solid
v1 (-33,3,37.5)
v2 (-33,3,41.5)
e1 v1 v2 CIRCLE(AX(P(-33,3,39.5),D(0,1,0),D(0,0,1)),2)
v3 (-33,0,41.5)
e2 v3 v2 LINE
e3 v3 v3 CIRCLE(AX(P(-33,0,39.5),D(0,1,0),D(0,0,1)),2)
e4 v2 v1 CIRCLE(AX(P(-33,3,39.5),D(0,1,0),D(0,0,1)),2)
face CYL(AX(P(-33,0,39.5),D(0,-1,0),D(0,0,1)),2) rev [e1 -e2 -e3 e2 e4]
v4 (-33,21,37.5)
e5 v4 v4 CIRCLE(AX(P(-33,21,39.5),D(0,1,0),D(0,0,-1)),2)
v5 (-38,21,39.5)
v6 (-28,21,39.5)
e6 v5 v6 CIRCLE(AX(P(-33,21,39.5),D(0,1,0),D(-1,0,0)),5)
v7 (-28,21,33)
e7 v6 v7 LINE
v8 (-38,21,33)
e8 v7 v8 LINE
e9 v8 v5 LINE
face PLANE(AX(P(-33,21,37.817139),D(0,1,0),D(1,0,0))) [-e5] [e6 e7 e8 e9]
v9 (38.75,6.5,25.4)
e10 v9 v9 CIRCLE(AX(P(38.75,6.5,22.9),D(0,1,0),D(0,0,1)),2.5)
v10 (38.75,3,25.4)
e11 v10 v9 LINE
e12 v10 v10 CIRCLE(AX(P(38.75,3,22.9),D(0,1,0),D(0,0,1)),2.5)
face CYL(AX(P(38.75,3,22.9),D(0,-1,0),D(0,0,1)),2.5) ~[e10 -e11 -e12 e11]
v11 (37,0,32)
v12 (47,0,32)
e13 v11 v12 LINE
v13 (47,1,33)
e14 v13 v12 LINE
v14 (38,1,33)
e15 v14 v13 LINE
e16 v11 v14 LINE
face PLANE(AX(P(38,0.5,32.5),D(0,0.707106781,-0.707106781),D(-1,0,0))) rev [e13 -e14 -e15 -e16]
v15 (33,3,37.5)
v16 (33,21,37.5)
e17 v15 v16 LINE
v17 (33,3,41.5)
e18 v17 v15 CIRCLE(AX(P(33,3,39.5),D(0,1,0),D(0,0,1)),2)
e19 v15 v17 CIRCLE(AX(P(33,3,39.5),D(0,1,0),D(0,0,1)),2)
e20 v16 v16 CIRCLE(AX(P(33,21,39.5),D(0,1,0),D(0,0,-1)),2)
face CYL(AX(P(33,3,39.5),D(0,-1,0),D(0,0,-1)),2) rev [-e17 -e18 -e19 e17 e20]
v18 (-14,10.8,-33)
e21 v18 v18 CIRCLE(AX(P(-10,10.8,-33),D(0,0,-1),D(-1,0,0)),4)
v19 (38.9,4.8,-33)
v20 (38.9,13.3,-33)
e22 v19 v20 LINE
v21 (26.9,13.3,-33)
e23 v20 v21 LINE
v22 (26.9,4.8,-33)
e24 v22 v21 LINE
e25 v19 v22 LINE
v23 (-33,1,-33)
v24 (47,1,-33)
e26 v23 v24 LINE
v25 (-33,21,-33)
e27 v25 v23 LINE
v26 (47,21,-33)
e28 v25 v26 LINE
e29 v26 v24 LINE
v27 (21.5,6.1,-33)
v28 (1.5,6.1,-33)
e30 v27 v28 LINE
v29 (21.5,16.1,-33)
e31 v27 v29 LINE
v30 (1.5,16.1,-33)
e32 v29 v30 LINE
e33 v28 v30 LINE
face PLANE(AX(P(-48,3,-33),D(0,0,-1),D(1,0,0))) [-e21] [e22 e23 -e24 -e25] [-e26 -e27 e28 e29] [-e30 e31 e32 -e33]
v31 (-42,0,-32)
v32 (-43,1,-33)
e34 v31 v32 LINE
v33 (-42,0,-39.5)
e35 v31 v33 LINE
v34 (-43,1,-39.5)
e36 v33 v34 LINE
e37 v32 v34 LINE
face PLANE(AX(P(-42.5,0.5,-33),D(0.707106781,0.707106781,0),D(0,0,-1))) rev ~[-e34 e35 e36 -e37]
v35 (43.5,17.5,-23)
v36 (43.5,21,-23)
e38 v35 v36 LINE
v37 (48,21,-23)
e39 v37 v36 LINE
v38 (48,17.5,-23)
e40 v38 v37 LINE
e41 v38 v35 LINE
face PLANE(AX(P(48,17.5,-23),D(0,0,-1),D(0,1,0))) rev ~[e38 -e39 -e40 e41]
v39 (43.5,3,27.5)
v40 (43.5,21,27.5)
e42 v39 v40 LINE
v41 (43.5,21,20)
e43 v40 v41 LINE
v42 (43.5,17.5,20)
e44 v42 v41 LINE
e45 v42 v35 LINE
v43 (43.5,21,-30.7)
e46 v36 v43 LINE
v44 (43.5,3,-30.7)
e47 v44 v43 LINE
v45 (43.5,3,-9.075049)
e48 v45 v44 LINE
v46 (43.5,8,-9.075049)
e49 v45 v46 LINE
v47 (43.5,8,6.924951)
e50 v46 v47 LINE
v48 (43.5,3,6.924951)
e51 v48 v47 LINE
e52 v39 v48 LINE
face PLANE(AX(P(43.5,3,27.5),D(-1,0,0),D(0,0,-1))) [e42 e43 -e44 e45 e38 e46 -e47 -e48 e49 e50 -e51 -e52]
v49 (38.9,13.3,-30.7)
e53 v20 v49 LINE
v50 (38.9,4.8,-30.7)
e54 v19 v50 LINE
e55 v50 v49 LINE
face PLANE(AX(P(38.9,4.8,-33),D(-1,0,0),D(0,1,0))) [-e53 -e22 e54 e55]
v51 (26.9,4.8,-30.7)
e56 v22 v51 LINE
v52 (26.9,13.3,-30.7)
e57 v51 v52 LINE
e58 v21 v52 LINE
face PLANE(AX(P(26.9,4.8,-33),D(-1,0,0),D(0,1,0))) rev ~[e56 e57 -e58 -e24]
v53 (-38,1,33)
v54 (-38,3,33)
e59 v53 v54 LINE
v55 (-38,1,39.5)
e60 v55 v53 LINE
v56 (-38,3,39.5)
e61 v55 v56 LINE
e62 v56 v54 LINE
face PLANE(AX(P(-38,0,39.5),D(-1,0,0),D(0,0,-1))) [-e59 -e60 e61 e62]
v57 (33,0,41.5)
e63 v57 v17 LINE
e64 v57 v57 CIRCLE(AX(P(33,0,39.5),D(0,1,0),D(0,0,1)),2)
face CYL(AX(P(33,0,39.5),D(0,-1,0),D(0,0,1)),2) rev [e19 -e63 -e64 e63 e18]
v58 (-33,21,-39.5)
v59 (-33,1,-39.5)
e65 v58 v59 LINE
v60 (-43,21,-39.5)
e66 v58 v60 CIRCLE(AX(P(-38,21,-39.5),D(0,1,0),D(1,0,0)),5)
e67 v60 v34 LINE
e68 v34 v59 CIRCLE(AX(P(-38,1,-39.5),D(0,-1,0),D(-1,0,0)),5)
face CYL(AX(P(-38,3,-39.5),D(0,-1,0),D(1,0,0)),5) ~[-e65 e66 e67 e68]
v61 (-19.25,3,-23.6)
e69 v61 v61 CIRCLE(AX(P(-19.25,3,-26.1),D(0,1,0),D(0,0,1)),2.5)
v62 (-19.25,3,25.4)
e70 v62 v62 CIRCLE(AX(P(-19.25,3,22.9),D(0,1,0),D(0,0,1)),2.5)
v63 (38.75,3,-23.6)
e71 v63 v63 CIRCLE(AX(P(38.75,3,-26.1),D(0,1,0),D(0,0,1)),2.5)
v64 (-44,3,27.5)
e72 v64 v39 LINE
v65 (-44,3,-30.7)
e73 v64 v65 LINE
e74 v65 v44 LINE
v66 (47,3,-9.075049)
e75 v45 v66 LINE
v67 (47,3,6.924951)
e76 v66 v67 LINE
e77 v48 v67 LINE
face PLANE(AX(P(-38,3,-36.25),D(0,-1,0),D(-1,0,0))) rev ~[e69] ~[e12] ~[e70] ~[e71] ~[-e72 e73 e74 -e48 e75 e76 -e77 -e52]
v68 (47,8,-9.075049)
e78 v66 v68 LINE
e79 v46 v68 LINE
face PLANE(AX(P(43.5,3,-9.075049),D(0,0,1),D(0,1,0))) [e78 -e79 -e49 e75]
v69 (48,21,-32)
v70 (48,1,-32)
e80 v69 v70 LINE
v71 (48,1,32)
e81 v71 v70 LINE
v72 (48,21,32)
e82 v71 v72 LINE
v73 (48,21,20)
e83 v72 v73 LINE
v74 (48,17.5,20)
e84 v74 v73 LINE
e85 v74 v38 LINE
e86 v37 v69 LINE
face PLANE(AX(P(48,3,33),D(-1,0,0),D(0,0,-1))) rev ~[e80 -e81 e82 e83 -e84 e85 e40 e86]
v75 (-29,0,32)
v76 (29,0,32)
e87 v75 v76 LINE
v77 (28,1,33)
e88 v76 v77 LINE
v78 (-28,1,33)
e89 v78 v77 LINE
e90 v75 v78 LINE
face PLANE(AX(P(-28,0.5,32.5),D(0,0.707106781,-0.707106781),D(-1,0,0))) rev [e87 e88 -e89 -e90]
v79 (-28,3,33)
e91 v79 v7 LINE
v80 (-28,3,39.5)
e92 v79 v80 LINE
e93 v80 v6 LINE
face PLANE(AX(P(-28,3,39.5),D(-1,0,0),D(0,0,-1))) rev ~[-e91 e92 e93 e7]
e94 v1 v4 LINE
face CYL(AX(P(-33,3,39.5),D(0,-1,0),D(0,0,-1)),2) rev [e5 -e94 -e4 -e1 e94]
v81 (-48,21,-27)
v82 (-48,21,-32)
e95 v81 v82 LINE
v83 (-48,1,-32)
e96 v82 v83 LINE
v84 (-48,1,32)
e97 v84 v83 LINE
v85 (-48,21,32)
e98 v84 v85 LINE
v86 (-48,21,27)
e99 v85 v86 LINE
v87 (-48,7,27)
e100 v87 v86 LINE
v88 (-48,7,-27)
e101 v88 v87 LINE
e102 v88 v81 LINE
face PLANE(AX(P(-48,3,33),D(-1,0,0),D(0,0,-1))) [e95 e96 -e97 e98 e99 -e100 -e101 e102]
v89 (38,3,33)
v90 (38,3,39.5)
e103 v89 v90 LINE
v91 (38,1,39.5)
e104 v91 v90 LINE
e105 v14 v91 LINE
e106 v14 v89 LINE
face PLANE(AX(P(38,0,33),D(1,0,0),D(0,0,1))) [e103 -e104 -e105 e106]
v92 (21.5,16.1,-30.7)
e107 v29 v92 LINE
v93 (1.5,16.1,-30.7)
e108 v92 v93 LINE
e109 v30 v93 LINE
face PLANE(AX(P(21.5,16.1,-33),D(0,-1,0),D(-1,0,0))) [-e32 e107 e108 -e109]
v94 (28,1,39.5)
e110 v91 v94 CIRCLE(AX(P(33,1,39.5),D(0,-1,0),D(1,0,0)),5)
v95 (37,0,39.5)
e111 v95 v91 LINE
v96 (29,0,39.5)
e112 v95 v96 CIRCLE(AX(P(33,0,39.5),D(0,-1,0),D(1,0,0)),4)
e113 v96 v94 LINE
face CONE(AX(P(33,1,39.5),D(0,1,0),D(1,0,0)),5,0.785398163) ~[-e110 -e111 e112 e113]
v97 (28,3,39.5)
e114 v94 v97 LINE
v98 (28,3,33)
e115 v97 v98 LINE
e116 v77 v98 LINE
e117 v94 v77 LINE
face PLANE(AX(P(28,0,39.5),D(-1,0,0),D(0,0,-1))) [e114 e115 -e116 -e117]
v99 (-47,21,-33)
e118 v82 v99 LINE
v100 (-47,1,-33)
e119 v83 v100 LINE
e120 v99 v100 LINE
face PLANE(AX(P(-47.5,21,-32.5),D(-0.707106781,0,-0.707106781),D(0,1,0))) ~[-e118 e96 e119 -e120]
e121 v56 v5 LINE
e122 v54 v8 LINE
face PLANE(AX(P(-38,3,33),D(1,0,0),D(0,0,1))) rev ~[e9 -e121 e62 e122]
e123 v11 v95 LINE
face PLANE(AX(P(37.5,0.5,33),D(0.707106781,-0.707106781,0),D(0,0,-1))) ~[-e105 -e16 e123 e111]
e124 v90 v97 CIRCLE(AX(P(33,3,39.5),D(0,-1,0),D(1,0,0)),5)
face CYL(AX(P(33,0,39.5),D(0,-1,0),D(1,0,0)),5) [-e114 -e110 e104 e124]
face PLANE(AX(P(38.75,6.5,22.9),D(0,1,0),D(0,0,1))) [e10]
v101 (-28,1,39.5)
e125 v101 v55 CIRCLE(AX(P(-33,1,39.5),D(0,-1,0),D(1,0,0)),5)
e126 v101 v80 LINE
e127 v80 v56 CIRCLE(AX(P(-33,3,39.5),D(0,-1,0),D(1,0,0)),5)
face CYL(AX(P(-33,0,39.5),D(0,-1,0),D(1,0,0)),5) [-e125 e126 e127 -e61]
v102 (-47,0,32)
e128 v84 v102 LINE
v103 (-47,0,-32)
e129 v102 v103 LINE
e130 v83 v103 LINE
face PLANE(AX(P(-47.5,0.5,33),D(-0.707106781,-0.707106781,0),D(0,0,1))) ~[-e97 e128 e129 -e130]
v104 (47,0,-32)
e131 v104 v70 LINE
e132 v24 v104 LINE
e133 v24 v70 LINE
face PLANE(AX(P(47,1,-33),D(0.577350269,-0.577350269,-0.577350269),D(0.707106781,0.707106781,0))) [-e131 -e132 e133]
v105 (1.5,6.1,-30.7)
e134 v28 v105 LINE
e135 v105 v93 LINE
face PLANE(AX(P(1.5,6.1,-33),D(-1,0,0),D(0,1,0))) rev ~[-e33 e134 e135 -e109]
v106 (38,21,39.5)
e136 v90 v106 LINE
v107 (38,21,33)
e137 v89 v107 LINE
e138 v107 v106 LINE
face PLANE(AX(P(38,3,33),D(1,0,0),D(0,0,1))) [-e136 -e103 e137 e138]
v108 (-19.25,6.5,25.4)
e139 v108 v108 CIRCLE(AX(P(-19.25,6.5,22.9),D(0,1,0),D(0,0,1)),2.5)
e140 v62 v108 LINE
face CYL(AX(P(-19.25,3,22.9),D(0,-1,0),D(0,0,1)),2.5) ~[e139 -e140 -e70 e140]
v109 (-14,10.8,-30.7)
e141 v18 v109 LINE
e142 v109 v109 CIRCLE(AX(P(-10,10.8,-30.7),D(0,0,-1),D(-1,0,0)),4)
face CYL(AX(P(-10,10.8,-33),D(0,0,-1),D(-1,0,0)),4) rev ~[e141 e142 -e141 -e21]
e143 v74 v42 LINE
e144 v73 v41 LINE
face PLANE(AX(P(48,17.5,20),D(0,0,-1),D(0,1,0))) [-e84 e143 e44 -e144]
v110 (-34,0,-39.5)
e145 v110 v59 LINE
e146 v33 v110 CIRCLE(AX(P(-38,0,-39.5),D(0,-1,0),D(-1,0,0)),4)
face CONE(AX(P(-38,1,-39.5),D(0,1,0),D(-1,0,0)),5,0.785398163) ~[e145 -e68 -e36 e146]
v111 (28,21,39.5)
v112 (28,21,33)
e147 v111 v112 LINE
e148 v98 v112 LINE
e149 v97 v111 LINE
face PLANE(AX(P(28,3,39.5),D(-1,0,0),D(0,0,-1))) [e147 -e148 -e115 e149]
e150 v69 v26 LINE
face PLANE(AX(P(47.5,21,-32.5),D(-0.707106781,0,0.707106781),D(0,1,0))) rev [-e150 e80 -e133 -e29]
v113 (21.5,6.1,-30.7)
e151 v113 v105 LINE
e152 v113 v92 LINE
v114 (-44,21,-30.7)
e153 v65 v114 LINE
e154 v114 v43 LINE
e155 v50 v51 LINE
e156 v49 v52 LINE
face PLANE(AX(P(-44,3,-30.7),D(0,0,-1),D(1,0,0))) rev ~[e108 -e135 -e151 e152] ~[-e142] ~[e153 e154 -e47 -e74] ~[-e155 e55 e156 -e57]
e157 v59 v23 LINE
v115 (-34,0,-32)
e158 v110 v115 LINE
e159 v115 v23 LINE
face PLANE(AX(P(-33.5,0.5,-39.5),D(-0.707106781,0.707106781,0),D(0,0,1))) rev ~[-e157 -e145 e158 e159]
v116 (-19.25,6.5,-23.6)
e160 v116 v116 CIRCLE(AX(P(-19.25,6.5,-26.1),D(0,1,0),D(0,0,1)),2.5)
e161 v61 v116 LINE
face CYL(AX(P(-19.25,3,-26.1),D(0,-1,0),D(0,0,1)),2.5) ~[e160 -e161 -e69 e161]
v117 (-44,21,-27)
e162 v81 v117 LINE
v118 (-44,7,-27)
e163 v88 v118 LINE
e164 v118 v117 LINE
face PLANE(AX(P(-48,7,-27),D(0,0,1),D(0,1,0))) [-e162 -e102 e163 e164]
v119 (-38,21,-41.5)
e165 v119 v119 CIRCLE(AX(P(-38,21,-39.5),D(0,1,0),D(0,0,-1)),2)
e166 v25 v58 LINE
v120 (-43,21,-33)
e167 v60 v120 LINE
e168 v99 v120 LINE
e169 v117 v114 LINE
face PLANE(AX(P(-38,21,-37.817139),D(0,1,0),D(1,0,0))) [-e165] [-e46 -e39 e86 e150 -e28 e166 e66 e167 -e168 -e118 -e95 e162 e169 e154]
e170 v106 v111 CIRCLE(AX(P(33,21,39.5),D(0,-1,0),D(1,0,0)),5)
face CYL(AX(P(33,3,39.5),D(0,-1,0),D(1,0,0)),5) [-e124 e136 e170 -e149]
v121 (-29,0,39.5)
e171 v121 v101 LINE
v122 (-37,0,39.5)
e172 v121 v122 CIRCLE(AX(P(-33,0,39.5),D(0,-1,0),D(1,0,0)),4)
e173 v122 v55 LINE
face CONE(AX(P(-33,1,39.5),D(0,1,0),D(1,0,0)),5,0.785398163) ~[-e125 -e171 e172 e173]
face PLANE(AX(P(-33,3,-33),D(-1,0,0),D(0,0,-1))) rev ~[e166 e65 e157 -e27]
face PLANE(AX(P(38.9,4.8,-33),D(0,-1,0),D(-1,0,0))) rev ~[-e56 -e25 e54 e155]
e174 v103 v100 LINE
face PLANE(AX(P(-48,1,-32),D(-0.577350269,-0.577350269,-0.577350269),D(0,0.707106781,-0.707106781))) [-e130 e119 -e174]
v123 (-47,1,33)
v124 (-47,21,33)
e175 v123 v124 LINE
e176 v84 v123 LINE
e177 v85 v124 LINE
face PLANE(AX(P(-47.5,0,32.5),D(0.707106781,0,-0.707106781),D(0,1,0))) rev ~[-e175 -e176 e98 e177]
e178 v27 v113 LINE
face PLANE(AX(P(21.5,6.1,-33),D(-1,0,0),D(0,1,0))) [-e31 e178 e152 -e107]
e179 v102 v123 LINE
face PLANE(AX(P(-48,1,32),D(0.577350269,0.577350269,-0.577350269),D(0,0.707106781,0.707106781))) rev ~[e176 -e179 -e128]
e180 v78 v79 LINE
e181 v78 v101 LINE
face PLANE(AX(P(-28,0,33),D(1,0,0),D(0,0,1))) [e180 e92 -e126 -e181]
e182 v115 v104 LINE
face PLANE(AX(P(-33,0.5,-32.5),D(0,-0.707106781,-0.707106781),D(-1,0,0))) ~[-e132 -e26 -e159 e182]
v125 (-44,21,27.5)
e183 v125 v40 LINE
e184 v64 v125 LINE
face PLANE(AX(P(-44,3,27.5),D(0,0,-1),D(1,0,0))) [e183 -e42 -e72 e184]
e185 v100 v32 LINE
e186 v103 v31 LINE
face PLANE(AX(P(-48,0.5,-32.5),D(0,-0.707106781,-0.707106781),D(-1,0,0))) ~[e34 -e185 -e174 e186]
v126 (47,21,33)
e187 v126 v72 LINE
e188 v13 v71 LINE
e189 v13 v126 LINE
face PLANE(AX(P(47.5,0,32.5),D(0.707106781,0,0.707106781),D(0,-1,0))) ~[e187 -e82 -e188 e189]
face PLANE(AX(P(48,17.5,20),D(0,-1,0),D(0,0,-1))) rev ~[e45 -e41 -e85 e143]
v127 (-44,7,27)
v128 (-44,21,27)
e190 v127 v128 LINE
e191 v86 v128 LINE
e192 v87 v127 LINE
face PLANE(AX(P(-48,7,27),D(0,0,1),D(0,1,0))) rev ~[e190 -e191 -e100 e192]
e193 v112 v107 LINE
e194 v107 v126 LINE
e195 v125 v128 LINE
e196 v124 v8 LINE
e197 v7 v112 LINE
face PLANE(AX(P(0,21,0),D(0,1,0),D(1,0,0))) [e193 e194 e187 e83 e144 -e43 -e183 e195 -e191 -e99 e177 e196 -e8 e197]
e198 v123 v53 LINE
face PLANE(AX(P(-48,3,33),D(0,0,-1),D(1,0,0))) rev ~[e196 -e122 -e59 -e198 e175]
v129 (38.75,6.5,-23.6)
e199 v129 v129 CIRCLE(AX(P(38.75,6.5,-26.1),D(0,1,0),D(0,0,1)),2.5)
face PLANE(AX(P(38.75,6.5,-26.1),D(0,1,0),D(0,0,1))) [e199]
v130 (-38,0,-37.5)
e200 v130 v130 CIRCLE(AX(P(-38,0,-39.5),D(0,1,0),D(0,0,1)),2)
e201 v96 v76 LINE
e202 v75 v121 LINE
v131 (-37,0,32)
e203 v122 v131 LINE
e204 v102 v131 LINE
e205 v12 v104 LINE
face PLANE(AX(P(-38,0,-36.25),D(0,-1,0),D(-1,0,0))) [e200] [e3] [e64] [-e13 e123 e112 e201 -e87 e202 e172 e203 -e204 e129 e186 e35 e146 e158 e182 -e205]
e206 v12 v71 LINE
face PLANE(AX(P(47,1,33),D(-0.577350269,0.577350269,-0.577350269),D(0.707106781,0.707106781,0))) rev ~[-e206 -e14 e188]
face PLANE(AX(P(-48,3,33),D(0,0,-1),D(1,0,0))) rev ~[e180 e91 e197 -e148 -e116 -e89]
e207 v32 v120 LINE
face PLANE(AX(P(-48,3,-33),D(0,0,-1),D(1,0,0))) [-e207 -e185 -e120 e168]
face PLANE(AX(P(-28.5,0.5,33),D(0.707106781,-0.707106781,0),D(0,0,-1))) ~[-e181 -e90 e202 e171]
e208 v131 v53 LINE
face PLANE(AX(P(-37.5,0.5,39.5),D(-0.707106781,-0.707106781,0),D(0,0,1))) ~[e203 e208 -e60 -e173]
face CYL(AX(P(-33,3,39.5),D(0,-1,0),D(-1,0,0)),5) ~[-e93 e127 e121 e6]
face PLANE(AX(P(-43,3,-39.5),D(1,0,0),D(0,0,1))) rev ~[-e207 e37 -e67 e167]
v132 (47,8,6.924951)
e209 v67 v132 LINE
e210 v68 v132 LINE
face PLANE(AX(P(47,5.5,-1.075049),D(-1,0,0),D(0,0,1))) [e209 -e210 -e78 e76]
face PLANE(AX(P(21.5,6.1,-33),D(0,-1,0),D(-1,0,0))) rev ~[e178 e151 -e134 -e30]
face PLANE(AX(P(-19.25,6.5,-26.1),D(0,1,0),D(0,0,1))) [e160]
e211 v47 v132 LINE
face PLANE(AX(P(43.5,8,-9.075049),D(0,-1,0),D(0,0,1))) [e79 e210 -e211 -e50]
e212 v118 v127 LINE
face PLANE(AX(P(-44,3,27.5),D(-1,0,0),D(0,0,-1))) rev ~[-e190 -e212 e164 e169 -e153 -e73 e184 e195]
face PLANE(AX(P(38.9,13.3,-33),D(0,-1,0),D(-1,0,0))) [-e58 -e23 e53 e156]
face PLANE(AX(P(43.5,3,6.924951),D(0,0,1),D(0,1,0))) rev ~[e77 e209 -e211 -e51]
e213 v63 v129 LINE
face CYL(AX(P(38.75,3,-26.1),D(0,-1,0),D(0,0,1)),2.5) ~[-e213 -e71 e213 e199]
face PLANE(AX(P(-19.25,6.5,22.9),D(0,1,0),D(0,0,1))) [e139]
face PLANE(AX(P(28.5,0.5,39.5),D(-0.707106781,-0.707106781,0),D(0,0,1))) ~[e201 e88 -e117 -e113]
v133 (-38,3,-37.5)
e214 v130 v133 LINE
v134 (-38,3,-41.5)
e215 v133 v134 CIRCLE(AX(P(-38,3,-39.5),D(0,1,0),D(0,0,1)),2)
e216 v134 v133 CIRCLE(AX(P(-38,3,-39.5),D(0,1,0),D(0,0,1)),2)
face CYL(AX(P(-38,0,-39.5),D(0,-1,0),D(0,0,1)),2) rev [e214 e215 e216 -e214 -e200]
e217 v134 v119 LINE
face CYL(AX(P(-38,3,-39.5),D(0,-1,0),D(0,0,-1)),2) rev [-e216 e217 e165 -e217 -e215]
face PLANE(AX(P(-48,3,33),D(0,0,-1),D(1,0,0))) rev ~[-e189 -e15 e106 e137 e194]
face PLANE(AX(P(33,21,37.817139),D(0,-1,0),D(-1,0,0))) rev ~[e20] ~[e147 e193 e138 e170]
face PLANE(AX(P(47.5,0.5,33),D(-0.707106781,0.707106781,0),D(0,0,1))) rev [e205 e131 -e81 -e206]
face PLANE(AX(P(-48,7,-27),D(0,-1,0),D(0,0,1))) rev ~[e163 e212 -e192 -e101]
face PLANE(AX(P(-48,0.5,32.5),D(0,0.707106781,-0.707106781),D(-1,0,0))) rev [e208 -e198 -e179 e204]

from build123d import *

# Parameters (mm, degrees)
SKETCH1_W           = 96
SKETCH1_H           = 66
BOSS_EXTRUDE2_DEPTH = 3
SKETCH4_R           = 2
BOSS_EXTRUDE3_DEPTH = 3
SKETCH8_R           = 2.5
BOSS_EXTRUDE5_DEPTH = 3.5
SKETCH9_W           = 96
SKETCH9_H           = 66
SKETCH9_W_2         = 87.5
SKETCH9_H_2         = 58.2
BOSS_EXTRUDE6_DEPTH = 18
SKETCH11_W          = 54
SKETCH11_H          = 14
CUT_EXTRUDE1_DEPTH  = 4
SKETCH12_W          = 43
SKETCH12_H          = 3.5
CUT_EXTRUDE2_DEPTH  = 4.5
SKETCH13_W          = 16
SKETCH13_H          = 5
CUT_EXTRUDE3_DEPTH  = 3.5
SKETCH14_R          = 4
SKETCH14_W          = 12
SKETCH14_H          = 8.5
SKETCH14_W_2        = 20
SKETCH14_H_2        = 10
CUT_EXTRUDE4_DEPTH  = 2.3
SKETCH16_R          = 2
BOSS_EXTRUDE7_DEPTH = 18
CHAMFER2_SIZE       = 1


with BuildPart() as part:
    # Sketch1 → Boss-Extrude2 (new body)
    with BuildSketch(Plane(origin=(0, 0, 0), x_dir=(1, 0, 0), z_dir=(0, 1, 0))):
        Rectangle(SKETCH1_W, SKETCH1_H)
    extrude(amount=BOSS_EXTRUDE2_DEPTH)

    # Sketch4 → Boss-Extrude3 (add)
    # profile 1 of 3: a face of its own
    with BuildSketch(Plane(origin=(0, 0, 0), x_dir=(1, 0, 0), z_dir=(0, 1, 0))):
        with BuildLine():
            Line((-43, 33), (-43, 39.5))
            ThreePointArc((-43, 39.5), (-38, 44.5), (-33, 39.5))
            Line((-33, 39.5), (-33, 33))
            ThreePointArc((-33, 33), (-38, 28), (-43, 33))
        make_face()
        with Locations(Location((-38, 39.5, 0), (0, 0, 270))):
            Circle(SKETCH4_R, mode=Mode.SUBTRACT)
    # profile 2 of 3: a face of its own
    with BuildSketch(Plane(origin=(0, 0, 0), x_dir=(1, 0, 0), z_dir=(0, 1, 0))):
        with BuildLine():
            Line((-28, -33), (-28, -39.5))
            ThreePointArc((-28, -39.5), (-33, -44.5), (-38, -39.5))
            Line((-38, -39.5), (-38, -33))
            ThreePointArc((-38, -33), (-33, -28), (-28, -33))
        make_face()
        with Locations(Location((-33, -39.5, 0), (0, 0, 270))):
            Circle(SKETCH4_R, mode=Mode.SUBTRACT)
    # profile 3 of 3: a face of its own
    with BuildSketch(Plane(origin=(0, 0, 0), x_dir=(1, 0, 0), z_dir=(0, 1, 0))):
        with BuildLine():
            Line((38, -33), (38, -39.5))
            ThreePointArc((38, -39.5), (33, -44.5), (28, -39.5))
            Line((28, -39.5), (28, -33))
            ThreePointArc((28, -33), (33, -28), (38, -33))
        make_face()
        with Locations(Location((33, -39.5, 0), (0, 0, 270))):
            Circle(SKETCH4_R, mode=Mode.SUBTRACT)
    extrude(amount=BOSS_EXTRUDE3_DEPTH)

    # Sketch8 → Boss-Extrude5 (add)
    with BuildSketch(Plane(origin=(0, 3, 0), x_dir=(1, 0, 0), z_dir=(0, 1, 0))):
        with Locations(Location((-19.25, 26.1, 0), (0, 0, 270))):
            Circle(SKETCH8_R)
        with Locations(Location((38.75, 26.1, 0), (0, 0, 270))):
            Circle(SKETCH8_R)
        with Locations(Location((38.75, -22.9, 0), (0, 0, 270))):
            Circle(SKETCH8_R)
        with Locations(Location((-19.25, -22.9, 0), (0, 0, 270))):
            Circle(SKETCH8_R)
    extrude(amount=BOSS_EXTRUDE5_DEPTH)

    # Sketch9 → Boss-Extrude6 (add)
    with BuildSketch(Plane(origin=(0, 3, 0), x_dir=(1, 0, 0), z_dir=(0, 1, 0))):
        Rectangle(SKETCH9_W, SKETCH9_H)
        with Locations((-0.25, 1.6)):
            Rectangle(SKETCH9_W_2, SKETCH9_H_2, mode=Mode.SUBTRACT)
    extrude(amount=BOSS_EXTRUDE6_DEPTH)

    # Sketch11 → Cut-Extrude1 (cut)
    with BuildSketch(Plane.ZY.offset(48)):
        with Locations((0, 14)):
            Rectangle(SKETCH11_W, SKETCH11_H)
    extrude(amount=-CUT_EXTRUDE1_DEPTH, mode=Mode.SUBTRACT)

    # Sketch12 → Cut-Extrude2 (cut)
    with BuildSketch(Plane(origin=(48, 0, 0), x_dir=(0, 0, -1), z_dir=(1, 0, 0))):
        with Locations((1.5, 19.25)):
            Rectangle(SKETCH12_W, SKETCH12_H)
    extrude(amount=-CUT_EXTRUDE2_DEPTH, mode=Mode.SUBTRACT)

    # Sketch13 → Cut-Extrude3 (cut)
    with BuildSketch(Plane.ZY.offset(-43.5)):
        with Locations((-1.07504867, 5.5)):
            Rectangle(SKETCH13_W, SKETCH13_H)
    extrude(amount=-CUT_EXTRUDE3_DEPTH, mode=Mode.SUBTRACT)

    # Sketch14 → Cut-Extrude4 (cut)
    with BuildSketch(Plane(origin=(0, 0, -33), x_dir=(-1, 0, 0), z_dir=(0, 0, -1))):
        with Locations((10, 10.8)):
            Circle(SKETCH14_R)
        with Locations((-32.9, 9.05)):
            Rectangle(SKETCH14_W, SKETCH14_H)
        with Locations((-11.5, 11.1)):
            Rectangle(SKETCH14_W_2, SKETCH14_H_2)
    extrude(amount=-CUT_EXTRUDE4_DEPTH, mode=Mode.SUBTRACT)

    # Sketch16 → Boss-Extrude7 (add)
    # profile 1 of 3: a face of its own
    with BuildSketch(Plane(origin=(0, 3, 0), x_dir=(1, 0, 0), z_dir=(0, 1, 0))):
        with BuildLine():
            Line((-43, 33), (-33, 33))
            Line((-33, 33), (-33, 39.5))
            ThreePointArc((-33, 39.5), (-38, 44.5), (-43, 39.5))
            Line((-43, 39.5), (-43, 33))
        make_face()
        with Locations(Location((-38, 39.5, 0), (0, 0, 90))):
            Circle(SKETCH16_R, mode=Mode.SUBTRACT)
    # profile 2 of 3: a face of its own
    with BuildSketch(Plane(origin=(0, 3, 0), x_dir=(1, 0, 0), z_dir=(0, 1, 0))):
        with BuildLine():
            Line((-38, -33), (-38, -39.5))
            ThreePointArc((-38, -39.5), (-33, -44.5), (-28, -39.5))
            Line((-28, -39.5), (-28, -33))
            Line((-28, -33), (-38, -33))
        make_face()
        with Locations(Location((-33, -39.5, 0), (0, 0, 90))):
            Circle(SKETCH16_R, mode=Mode.SUBTRACT)
    # profile 3 of 3: a face of its own
    with BuildSketch(Plane(origin=(0, 3, 0), x_dir=(1, 0, 0), z_dir=(0, 1, 0))):
        with BuildLine():
            Line((28, -39.5), (28, -33))
            Line((28, -33), (38, -33))
            Line((38, -33), (38, -39.5))
            ThreePointArc((38, -39.5), (33, -44.5), (28, -39.5))
        make_face()
        with Locations(Location((33, -39.5, 0), (0, 0, 90))):
            Circle(SKETCH16_R, mode=Mode.SUBTRACT)
    extrude(amount=BOSS_EXTRUDE7_DEPTH)

    # Chamfer2
    chamfer2_edges = [part.edges().sort_by_distance(p)[0] for p in [
        (-45.5, 0, -33),
        (-33, 0, -36.25),
        (-38, 0, -44.5),
        (-43, 0, -36.25),
        (-43, 0, 33),
        (-38, 0, 36.25),
        (-33, 0, 44.5),
        (-28, 0, 36.25),
        (0, 0, 33),
        (48, 0, 0),
        (28, 0, 36.25),
        (33, 0, 44.5),
        (38, 0, 36.25),
        (43, 0, 33),
        (-48, 0, 0),
        (7.5, 0, -33),
        (48, 10.5, -33),
        (48, 10.5, 33),
        (-48, 10.5, 33),
        (-48, 10.5, -33),
    ]]
    chamfer(chamfer2_edges, length=CHAMFER2_SIZE)


solid = part.part
